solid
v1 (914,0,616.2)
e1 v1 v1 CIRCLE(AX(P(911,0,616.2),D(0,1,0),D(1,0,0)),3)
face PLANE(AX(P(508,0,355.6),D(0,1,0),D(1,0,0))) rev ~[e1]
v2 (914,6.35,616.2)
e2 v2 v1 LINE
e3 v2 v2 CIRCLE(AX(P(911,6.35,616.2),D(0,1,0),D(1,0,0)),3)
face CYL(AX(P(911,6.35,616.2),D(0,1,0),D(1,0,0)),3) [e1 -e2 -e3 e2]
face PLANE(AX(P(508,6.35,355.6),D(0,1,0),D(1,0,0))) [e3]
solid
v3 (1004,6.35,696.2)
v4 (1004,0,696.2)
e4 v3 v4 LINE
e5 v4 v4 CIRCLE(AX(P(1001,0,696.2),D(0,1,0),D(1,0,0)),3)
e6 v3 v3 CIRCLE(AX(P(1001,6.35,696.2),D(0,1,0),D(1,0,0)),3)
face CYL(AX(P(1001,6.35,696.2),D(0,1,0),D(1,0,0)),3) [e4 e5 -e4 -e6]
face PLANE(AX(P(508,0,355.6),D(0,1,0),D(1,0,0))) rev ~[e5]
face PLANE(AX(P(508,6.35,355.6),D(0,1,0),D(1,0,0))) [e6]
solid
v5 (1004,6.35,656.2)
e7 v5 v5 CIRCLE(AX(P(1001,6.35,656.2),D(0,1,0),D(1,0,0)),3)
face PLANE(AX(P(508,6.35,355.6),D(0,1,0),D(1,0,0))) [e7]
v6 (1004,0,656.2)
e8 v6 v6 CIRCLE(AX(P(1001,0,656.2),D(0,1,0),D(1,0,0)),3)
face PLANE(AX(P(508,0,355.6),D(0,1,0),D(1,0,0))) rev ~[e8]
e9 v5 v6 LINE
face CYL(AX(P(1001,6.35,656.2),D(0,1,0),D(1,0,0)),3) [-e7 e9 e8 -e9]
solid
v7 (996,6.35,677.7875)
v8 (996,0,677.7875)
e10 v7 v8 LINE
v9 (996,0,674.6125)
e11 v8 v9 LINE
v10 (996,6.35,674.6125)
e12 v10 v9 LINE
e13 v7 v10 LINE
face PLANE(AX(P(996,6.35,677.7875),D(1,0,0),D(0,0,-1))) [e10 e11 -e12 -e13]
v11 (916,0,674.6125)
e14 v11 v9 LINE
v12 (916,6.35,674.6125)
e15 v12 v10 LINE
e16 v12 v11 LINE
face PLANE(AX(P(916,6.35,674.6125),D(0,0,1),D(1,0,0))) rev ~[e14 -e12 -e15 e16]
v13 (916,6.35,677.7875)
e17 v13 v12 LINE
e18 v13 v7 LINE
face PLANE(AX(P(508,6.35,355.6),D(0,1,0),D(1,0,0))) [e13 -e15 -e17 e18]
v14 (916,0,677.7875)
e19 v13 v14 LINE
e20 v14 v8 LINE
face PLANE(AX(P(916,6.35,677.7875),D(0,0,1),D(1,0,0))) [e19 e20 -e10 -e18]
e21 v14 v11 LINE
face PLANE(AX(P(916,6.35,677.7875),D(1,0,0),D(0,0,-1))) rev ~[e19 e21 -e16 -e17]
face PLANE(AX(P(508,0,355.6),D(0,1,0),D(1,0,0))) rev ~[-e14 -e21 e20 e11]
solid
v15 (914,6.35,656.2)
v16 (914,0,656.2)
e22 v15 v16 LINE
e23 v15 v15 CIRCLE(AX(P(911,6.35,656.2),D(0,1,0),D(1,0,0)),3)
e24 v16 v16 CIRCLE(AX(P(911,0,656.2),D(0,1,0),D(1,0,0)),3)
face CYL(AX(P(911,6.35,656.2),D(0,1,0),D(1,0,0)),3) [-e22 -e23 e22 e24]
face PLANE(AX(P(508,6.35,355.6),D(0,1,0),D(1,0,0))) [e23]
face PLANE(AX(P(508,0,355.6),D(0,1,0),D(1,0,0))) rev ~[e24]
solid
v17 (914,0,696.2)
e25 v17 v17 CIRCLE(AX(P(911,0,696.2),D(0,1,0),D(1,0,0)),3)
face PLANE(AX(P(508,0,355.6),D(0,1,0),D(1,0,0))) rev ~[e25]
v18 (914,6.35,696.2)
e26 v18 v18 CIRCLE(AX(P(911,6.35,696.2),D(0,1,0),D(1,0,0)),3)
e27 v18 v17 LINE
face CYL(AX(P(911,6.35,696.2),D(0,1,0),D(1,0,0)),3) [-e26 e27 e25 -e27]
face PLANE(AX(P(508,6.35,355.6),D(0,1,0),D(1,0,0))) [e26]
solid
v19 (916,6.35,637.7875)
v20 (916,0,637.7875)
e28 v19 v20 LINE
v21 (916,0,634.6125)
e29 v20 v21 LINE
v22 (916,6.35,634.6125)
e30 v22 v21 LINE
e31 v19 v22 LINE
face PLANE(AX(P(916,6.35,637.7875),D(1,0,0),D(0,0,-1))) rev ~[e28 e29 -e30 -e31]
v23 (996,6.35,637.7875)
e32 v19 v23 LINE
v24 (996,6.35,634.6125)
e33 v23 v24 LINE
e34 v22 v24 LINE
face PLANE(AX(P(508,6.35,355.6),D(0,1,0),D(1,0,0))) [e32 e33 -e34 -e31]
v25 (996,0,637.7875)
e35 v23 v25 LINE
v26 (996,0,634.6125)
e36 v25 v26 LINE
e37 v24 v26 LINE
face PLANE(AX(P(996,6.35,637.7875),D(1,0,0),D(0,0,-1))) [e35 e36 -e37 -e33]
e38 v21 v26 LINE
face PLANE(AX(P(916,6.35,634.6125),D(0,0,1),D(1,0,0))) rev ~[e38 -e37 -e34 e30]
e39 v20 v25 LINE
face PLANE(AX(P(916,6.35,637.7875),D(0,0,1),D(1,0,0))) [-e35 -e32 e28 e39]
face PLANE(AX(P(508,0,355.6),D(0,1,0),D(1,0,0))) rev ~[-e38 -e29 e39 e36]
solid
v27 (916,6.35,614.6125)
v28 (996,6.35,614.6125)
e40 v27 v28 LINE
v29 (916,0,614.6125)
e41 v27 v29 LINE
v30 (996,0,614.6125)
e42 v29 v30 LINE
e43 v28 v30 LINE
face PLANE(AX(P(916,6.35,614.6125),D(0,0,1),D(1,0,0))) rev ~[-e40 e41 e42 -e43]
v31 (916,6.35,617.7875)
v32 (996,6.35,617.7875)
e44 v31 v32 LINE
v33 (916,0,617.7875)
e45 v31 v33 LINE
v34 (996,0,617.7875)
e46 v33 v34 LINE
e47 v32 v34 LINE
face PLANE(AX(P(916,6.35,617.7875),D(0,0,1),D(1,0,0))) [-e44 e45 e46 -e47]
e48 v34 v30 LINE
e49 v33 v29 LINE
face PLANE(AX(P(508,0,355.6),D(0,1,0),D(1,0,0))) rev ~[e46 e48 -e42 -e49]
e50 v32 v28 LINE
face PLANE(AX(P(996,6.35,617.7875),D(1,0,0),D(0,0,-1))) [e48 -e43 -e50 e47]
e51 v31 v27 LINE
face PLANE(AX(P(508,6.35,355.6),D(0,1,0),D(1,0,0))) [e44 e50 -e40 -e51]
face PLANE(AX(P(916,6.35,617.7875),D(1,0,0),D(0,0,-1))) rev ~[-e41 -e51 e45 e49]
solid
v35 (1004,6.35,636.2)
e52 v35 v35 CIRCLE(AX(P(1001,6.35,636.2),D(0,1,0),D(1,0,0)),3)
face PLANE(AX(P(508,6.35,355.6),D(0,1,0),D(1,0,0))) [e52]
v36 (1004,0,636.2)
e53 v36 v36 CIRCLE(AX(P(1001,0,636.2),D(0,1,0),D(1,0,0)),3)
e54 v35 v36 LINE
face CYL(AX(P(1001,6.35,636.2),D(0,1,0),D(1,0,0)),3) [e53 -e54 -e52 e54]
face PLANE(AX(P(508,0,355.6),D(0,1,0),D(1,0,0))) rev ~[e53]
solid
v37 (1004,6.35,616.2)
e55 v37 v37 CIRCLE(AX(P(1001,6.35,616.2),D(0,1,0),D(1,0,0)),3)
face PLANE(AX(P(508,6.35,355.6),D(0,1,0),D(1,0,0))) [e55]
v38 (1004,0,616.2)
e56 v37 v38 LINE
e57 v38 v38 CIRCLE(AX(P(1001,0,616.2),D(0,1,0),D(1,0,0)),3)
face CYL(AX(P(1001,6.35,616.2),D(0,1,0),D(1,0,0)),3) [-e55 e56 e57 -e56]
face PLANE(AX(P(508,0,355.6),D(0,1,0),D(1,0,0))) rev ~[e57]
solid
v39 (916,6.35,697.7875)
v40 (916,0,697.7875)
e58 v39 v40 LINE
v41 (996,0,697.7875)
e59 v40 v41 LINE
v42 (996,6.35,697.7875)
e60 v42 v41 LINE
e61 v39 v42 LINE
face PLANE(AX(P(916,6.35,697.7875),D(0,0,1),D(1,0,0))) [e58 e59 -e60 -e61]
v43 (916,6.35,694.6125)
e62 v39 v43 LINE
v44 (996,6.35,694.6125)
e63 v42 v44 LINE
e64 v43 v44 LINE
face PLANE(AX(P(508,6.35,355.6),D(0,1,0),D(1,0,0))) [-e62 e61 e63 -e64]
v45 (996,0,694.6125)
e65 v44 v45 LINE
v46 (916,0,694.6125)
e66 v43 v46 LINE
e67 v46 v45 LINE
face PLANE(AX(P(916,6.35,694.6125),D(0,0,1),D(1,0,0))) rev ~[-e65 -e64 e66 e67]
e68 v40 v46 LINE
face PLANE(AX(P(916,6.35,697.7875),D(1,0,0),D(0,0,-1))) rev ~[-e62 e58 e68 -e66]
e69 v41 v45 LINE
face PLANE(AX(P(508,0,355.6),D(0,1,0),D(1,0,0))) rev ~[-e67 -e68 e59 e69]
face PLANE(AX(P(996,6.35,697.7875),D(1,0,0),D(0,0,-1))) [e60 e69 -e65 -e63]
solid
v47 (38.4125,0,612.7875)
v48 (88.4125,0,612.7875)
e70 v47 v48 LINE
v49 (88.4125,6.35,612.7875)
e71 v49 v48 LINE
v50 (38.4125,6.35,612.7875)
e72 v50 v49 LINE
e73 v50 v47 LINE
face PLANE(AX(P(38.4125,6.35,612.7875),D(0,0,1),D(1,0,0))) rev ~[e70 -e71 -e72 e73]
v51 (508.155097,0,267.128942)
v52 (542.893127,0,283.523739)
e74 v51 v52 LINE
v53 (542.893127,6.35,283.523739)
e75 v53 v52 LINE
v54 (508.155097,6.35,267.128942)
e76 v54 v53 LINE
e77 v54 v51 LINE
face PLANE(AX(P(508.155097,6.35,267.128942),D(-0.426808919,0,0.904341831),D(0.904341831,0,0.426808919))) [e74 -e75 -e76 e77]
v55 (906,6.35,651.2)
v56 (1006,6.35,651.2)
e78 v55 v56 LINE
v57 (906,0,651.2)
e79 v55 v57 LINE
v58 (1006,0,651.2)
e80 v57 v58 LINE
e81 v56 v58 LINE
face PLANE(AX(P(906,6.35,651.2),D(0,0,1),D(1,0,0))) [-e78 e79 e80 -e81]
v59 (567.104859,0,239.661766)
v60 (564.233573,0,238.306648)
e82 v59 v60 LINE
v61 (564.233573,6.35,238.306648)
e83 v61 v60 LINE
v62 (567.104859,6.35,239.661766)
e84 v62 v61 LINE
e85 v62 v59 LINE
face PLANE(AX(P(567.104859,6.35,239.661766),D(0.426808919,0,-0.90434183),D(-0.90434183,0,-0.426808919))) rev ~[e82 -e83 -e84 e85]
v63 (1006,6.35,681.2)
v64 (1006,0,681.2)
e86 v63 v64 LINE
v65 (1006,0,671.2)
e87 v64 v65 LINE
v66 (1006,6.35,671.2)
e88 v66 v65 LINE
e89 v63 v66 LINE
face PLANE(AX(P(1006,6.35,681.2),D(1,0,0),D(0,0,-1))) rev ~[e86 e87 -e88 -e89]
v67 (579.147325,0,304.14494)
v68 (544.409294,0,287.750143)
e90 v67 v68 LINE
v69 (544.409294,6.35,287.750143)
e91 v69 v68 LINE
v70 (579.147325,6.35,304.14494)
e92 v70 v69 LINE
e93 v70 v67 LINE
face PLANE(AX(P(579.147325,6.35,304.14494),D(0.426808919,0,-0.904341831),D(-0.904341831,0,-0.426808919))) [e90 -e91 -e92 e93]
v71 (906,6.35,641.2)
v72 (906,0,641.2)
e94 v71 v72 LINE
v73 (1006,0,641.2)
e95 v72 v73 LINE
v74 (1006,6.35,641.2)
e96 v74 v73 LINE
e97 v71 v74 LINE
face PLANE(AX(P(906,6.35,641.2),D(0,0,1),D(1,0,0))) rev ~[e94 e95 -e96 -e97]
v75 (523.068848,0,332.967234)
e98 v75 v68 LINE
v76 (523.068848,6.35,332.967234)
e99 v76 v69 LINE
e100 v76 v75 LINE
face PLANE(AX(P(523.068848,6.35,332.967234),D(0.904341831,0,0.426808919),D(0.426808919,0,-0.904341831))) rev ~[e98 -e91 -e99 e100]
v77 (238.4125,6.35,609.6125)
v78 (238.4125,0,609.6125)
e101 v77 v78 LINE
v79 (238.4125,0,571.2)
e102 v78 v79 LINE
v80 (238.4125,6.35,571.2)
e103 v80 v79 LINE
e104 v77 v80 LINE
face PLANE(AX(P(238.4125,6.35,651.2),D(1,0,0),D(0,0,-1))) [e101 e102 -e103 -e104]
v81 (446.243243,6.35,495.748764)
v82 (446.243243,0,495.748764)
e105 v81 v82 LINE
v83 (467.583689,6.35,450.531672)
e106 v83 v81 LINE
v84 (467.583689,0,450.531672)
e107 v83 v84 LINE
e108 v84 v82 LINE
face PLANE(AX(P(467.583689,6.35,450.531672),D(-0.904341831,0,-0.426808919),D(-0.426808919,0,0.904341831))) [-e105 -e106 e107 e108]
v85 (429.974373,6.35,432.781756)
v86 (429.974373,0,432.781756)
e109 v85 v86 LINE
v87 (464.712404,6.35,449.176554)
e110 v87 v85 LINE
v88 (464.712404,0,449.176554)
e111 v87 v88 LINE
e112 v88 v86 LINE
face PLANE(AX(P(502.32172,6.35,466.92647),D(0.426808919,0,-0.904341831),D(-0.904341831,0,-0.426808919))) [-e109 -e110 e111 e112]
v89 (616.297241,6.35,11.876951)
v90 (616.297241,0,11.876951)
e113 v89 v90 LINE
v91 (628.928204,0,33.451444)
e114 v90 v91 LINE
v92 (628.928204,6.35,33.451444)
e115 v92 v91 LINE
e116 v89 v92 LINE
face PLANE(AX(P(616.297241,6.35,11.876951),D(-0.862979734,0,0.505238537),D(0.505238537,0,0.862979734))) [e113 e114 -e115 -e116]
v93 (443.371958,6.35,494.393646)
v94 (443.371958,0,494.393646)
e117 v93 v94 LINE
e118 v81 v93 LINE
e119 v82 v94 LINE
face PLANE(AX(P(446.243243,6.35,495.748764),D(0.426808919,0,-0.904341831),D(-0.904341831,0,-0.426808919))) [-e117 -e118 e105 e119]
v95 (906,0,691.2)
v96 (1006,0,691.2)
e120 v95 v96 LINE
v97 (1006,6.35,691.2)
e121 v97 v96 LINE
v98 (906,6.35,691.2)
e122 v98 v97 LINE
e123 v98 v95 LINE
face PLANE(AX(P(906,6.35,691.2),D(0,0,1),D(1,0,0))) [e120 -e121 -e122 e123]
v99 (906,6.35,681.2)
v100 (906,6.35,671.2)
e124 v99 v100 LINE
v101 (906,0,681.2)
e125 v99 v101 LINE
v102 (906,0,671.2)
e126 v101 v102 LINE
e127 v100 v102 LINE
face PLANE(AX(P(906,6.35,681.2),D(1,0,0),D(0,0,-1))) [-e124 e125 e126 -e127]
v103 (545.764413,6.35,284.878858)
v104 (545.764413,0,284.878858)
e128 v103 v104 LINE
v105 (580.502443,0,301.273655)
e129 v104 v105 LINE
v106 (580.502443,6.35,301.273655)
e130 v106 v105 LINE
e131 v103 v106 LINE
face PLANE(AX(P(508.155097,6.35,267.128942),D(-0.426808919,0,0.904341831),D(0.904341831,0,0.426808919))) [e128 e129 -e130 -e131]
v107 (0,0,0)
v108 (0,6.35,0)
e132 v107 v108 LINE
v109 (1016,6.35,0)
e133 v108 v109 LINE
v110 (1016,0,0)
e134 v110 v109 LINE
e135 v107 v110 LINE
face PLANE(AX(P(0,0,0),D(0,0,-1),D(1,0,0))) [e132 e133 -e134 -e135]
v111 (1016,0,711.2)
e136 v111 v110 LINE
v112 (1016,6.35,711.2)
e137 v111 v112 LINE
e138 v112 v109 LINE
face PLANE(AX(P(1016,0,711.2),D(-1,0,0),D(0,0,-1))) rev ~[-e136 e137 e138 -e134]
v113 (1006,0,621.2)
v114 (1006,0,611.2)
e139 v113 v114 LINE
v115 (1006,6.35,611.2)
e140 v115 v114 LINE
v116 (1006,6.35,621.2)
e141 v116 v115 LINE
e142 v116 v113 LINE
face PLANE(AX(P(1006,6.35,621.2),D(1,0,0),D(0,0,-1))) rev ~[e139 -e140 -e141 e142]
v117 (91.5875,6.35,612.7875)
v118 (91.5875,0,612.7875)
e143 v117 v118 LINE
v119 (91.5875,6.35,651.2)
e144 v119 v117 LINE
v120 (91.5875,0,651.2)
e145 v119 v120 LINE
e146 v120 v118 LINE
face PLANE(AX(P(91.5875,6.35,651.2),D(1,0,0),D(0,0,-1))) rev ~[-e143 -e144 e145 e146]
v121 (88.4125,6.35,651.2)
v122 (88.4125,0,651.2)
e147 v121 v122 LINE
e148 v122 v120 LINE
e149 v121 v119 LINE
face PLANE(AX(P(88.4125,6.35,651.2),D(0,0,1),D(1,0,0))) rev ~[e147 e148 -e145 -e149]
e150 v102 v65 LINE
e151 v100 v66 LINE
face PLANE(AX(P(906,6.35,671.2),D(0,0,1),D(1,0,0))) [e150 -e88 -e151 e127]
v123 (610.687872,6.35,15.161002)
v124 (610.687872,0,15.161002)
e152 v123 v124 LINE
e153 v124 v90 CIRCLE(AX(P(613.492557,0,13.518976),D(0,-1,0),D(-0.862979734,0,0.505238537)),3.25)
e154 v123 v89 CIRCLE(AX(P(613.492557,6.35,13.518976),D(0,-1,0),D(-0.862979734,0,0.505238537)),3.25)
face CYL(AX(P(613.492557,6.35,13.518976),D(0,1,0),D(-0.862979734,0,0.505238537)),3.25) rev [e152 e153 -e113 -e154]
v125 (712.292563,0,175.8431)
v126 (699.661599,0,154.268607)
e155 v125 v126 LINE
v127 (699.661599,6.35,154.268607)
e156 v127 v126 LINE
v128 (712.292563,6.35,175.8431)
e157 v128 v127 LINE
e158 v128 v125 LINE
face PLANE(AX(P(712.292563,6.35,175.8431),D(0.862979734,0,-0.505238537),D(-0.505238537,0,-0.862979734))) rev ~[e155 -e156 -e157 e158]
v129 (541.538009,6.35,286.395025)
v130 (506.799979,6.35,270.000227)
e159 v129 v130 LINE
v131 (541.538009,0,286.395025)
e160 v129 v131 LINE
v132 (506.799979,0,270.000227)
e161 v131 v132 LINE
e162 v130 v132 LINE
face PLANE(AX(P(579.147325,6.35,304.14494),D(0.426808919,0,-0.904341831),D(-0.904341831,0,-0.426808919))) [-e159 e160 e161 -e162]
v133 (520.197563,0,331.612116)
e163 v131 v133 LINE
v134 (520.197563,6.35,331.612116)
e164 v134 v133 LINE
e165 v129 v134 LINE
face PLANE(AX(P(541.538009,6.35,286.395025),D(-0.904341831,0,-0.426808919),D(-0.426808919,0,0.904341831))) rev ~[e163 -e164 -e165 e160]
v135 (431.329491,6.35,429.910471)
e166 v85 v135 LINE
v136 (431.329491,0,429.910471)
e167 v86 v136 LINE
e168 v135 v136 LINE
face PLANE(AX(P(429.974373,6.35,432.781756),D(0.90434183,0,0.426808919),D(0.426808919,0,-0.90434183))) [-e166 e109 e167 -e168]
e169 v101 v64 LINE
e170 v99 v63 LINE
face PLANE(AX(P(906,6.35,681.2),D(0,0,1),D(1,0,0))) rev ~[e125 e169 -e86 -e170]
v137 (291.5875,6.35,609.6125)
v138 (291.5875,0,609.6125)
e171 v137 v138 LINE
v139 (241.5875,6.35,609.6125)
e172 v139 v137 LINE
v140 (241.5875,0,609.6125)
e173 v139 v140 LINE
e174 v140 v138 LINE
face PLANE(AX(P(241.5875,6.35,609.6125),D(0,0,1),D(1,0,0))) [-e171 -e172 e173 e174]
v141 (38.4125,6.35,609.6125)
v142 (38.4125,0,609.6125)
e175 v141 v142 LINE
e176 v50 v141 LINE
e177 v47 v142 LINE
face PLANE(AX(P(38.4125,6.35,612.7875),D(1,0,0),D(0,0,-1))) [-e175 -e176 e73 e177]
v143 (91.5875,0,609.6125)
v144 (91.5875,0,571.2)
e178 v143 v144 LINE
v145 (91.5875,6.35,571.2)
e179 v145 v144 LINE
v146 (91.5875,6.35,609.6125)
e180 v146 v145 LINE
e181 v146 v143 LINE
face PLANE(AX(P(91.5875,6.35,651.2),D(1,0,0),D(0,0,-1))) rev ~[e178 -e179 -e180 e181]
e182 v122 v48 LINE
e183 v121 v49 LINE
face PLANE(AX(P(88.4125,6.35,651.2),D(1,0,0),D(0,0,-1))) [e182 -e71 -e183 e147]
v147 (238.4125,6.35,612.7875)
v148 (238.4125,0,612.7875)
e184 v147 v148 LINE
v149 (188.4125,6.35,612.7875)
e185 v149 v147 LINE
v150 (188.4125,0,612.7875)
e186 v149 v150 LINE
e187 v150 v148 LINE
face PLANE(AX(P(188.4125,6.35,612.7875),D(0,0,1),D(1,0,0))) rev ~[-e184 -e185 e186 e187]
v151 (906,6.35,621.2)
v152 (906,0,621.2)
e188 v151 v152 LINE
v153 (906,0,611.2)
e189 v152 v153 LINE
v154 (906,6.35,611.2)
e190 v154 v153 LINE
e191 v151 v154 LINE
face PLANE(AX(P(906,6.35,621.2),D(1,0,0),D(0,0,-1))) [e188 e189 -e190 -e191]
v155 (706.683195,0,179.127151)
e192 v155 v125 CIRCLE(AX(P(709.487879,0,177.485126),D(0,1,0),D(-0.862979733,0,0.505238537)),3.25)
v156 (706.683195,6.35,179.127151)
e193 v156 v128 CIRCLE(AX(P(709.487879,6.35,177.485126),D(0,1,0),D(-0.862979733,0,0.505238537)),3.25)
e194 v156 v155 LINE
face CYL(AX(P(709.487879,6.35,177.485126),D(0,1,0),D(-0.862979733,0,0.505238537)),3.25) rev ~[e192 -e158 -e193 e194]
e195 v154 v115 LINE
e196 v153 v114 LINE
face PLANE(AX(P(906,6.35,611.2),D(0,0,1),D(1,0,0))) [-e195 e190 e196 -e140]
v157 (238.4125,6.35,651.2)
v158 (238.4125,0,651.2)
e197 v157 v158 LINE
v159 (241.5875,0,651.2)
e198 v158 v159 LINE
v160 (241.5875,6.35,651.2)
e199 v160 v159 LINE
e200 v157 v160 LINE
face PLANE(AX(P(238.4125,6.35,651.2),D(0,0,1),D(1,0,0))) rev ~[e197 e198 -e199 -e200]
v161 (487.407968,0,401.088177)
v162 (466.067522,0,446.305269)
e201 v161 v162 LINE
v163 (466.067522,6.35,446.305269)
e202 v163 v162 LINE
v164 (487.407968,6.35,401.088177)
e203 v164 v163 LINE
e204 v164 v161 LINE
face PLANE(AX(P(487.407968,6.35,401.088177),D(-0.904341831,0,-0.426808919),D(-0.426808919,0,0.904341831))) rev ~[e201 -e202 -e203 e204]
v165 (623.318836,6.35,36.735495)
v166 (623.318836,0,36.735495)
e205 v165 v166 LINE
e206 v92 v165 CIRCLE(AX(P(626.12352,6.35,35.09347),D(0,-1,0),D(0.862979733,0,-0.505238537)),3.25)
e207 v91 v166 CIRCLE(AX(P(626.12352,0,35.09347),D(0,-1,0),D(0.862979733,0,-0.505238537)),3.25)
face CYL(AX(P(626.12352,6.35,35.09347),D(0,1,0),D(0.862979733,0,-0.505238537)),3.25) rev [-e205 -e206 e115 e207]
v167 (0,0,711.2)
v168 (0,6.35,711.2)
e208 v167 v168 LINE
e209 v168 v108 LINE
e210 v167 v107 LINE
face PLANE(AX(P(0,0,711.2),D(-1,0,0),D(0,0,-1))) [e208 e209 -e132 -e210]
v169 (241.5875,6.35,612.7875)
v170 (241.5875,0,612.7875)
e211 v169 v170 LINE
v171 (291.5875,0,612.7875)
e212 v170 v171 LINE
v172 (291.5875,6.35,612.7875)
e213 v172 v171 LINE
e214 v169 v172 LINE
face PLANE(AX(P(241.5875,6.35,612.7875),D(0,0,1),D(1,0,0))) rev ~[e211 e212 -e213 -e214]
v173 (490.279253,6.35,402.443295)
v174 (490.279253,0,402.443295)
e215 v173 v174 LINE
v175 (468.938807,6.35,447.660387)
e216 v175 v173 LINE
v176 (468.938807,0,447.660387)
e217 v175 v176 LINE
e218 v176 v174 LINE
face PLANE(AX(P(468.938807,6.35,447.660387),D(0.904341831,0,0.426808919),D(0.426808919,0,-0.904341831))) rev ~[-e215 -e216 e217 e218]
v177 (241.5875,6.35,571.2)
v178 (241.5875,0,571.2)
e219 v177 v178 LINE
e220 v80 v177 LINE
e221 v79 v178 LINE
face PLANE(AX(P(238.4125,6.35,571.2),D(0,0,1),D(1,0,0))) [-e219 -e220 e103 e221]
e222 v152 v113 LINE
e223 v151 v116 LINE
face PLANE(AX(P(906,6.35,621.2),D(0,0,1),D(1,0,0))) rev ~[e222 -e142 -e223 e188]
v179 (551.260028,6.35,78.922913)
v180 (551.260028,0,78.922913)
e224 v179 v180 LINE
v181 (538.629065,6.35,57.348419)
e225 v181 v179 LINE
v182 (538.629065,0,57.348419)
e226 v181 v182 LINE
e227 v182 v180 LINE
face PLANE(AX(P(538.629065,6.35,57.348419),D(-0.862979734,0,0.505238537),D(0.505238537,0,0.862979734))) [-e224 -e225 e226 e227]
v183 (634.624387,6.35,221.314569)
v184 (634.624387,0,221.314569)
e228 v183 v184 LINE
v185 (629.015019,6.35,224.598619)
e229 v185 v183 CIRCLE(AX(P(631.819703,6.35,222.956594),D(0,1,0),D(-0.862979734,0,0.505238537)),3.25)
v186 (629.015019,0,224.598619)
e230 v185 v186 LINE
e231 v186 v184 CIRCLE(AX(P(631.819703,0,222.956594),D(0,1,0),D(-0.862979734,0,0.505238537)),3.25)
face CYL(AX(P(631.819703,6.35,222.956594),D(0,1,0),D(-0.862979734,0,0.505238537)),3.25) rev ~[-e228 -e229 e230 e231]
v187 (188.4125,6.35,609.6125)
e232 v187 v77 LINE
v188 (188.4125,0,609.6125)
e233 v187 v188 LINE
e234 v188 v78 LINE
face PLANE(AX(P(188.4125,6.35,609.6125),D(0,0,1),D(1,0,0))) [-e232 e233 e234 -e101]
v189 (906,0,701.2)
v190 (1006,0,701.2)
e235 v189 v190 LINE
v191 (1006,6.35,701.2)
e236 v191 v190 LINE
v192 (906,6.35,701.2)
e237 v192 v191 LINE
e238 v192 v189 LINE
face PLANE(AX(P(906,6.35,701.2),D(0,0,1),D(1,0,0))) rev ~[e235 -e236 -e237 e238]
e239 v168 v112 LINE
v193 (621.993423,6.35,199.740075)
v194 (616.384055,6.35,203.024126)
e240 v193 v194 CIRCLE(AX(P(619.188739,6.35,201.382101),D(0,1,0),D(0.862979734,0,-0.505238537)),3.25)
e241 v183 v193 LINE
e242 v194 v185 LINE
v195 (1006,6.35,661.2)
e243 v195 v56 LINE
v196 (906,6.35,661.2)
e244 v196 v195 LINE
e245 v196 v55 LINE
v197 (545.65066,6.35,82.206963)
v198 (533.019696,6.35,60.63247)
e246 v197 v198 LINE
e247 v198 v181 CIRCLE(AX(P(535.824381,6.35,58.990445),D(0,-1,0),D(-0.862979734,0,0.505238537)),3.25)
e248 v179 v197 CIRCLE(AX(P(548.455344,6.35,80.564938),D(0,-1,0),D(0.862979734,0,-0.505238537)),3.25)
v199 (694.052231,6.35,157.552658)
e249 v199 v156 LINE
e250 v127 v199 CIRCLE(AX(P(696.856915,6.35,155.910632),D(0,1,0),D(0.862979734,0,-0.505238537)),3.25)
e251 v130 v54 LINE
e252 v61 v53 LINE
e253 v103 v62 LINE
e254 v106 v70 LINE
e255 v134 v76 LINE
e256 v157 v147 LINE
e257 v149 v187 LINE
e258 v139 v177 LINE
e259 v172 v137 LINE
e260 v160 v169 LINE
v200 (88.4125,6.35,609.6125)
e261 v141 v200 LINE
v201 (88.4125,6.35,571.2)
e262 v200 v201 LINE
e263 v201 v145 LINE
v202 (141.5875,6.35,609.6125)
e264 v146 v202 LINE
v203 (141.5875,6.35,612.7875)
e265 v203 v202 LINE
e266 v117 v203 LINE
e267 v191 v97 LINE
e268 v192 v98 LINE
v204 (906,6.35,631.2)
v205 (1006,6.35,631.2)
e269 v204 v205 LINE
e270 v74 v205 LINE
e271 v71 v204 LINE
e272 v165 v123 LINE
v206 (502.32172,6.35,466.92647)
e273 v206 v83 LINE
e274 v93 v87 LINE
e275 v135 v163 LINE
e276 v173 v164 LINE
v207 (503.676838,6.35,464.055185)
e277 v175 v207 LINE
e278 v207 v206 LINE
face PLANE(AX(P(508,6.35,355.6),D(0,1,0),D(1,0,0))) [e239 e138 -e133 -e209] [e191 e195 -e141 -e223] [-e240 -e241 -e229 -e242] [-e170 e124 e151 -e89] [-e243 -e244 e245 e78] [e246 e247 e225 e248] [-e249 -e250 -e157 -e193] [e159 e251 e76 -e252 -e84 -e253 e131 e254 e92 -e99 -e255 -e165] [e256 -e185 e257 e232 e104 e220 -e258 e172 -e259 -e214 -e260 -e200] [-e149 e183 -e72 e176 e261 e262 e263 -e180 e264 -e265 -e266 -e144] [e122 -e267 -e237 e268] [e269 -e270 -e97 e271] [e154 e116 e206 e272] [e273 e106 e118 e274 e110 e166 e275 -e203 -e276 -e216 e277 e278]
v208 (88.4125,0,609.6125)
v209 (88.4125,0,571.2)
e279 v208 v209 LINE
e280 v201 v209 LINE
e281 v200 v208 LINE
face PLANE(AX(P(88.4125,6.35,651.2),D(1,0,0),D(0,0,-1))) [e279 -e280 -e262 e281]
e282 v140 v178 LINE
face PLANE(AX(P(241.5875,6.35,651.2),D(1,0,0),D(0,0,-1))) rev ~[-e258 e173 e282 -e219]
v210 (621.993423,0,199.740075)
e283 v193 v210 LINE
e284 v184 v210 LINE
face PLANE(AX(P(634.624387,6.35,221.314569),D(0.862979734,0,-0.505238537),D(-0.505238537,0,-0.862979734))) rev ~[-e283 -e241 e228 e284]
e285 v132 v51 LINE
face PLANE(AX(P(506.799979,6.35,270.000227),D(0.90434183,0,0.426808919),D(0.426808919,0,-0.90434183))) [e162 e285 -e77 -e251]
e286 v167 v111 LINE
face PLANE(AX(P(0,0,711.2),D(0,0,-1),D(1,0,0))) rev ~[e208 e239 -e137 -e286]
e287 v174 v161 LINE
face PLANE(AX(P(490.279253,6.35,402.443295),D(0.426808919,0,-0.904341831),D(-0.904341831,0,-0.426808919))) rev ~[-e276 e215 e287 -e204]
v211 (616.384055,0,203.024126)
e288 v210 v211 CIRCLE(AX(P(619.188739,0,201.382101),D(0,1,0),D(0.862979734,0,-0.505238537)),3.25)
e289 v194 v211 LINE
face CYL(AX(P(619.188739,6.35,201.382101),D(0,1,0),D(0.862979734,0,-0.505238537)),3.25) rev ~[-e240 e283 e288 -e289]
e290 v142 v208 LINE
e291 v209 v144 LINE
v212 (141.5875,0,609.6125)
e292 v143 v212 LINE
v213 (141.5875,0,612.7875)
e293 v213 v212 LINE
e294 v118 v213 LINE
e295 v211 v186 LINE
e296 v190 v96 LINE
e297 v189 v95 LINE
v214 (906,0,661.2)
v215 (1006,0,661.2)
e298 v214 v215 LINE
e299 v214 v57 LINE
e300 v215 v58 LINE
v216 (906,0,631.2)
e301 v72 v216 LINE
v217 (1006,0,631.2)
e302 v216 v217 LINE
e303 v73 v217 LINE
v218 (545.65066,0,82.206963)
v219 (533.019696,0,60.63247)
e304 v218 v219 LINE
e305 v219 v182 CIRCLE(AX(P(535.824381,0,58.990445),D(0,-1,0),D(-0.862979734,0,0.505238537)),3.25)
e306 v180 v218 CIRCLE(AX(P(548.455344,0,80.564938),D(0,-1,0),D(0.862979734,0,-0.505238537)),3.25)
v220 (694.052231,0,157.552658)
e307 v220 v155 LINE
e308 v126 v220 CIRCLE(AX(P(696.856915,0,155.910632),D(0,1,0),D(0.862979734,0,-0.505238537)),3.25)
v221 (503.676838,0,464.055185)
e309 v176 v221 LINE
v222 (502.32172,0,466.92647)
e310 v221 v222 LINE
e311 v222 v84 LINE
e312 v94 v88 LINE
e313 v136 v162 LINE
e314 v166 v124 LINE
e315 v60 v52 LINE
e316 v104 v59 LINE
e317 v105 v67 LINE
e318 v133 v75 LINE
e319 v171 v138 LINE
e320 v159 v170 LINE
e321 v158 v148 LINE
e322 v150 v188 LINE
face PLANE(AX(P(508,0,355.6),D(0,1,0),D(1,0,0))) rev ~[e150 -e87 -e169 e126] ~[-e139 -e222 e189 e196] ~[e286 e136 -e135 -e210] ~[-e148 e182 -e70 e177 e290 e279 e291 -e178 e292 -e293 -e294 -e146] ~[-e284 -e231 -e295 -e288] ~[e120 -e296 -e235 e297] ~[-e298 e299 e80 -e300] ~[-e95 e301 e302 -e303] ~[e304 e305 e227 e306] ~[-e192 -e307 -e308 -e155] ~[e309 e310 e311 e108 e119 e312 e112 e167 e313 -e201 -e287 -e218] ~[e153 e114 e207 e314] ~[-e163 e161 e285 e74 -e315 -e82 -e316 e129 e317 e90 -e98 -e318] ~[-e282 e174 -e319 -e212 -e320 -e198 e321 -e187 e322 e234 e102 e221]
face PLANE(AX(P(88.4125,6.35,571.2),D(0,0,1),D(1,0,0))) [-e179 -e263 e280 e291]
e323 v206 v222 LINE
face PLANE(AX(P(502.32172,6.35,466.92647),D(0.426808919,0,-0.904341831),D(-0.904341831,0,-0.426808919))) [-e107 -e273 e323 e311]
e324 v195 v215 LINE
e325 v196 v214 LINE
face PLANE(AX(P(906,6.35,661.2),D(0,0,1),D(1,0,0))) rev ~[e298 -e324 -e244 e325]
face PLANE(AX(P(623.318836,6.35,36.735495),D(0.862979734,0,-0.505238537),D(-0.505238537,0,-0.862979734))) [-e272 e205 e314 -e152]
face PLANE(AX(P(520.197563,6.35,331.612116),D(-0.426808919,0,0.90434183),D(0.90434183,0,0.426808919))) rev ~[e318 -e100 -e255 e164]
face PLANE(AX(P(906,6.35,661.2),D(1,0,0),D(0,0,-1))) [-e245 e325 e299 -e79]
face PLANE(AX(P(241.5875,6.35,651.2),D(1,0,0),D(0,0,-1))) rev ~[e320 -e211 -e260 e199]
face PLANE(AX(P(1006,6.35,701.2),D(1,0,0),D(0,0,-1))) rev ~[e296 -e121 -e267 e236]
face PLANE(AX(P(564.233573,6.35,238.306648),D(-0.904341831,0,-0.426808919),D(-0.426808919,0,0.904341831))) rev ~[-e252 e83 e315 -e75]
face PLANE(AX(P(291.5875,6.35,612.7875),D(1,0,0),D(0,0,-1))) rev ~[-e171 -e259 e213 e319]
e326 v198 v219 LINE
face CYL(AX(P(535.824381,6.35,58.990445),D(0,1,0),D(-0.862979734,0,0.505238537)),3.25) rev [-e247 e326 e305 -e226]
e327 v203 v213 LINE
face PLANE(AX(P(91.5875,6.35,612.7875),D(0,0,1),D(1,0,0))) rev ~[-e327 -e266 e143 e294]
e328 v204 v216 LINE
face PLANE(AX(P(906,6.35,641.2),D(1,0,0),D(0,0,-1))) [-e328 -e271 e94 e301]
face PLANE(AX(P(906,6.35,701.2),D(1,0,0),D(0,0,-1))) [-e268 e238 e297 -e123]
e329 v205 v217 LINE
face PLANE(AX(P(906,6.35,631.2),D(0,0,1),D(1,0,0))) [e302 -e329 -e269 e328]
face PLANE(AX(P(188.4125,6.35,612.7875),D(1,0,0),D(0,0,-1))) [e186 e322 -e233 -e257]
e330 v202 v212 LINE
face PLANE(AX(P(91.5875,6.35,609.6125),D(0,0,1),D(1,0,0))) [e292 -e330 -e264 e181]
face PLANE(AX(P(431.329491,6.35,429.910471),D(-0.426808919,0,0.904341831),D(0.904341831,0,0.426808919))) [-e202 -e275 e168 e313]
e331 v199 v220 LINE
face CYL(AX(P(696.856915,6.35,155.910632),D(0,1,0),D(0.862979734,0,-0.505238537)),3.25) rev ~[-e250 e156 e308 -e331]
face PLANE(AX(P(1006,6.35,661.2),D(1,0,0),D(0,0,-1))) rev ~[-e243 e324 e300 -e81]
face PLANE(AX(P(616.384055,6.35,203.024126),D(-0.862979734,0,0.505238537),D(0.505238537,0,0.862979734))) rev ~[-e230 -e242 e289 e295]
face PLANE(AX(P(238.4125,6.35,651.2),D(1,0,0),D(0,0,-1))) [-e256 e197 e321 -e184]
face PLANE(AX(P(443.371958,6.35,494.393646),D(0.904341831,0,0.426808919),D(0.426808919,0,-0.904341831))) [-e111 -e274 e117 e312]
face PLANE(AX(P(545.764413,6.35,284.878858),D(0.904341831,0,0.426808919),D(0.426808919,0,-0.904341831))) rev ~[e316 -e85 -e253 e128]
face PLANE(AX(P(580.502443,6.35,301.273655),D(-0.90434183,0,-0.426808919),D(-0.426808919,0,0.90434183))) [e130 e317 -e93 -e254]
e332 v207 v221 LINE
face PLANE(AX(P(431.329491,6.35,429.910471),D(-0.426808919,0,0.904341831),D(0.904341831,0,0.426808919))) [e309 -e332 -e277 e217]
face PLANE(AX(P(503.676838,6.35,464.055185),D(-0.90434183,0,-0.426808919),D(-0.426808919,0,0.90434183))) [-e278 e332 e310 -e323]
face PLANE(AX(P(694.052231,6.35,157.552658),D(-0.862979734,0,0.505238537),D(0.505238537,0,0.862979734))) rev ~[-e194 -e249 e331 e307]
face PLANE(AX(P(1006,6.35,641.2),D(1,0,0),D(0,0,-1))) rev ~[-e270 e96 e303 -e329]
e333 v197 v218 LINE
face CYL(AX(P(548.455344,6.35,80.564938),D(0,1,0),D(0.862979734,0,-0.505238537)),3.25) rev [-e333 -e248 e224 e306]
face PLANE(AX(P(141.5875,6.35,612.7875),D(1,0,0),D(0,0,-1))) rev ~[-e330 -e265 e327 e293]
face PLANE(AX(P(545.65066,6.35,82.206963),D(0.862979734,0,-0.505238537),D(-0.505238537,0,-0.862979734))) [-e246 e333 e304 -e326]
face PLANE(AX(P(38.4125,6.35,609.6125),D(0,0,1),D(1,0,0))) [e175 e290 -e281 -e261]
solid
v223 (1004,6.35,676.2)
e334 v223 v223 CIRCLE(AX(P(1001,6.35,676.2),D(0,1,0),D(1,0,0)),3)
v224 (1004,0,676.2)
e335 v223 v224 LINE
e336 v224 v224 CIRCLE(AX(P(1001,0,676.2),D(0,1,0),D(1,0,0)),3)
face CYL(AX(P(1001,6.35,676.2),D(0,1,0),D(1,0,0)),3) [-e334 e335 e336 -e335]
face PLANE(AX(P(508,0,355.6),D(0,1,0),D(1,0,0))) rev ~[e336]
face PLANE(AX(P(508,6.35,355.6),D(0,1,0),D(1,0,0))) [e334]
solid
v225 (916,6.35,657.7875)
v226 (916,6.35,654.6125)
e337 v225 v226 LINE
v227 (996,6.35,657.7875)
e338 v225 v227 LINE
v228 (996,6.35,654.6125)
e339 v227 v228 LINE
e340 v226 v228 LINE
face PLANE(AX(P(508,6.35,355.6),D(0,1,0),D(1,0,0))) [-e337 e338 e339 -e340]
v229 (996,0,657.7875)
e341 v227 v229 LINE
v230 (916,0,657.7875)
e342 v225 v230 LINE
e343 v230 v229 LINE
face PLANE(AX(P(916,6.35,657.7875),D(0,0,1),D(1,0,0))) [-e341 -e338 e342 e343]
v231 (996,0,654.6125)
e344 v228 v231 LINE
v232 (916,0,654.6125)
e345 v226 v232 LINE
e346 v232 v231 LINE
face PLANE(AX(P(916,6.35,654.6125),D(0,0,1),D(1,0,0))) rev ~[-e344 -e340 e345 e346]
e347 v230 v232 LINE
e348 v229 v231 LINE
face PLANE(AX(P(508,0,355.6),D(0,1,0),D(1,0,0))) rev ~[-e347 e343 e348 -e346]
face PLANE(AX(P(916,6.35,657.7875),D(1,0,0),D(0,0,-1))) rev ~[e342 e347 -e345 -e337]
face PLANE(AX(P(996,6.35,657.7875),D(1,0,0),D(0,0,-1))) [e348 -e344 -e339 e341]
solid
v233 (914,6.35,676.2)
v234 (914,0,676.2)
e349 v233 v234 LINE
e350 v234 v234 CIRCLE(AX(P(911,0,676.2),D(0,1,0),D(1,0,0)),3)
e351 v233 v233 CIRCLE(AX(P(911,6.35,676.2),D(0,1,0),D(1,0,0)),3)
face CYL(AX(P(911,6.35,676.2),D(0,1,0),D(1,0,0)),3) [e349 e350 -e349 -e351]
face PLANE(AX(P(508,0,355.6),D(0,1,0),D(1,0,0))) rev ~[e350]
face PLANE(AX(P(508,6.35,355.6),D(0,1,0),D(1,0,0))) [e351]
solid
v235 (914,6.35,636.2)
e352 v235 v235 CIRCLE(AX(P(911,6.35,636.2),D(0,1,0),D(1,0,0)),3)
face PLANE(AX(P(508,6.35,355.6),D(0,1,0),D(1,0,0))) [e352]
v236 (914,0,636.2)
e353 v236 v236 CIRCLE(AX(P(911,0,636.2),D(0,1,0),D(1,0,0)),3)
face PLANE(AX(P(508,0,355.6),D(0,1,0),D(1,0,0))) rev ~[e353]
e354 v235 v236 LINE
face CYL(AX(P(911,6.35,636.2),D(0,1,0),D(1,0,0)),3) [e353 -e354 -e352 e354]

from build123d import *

# Parameters (mm, degrees)
SKETCH1_W           = 1016
SKETCH1_H           = 711.2
BOSS_EXTRUDE1_DEPTH = 6.35
SKETCH2_W           = 3.175
SKETCH2_H           = 80
CUT_EXTRUDE1_DEPTH  = 6.35
SKETCH4_W           = 50
SKETCH4_H           = 3.175
CUT_EXTRUDE2_DEPTH  = 10
SKETCH5_W           = 100
SKETCH5_H           = 10
SKETCH5_R           = 3
SKETCH5_W_2         = 80
SKETCH5_H_2         = 3.175
CUT_EXTRUDE3_DEPTH  = 10


with BuildPart() as part:
    # Sketch1 → Boss-Extrude1 (new body)
    with BuildSketch(Plane(origin=(0, 0, 0), x_dir=(1, 0, 0), z_dir=(0, 1, 0))):
        with Locations((508, -355.6)):
            Rectangle(SKETCH1_W, SKETCH1_H)
    extrude(amount=BOSS_EXTRUDE1_DEPTH)

    # Sketch2 → Cut-Extrude1 (cut)
    with BuildSketch(Plane(origin=(0, 6.35, 0), x_dir=(1, 0, 0), z_dir=(0, 1, 0))):
        Polygon((431.329491407, -429.910471079), (503.676837849, -464.055184621), (502.32171953, -466.926469933), (429.974373088, -432.781756391), align=None)
        with Locations((90, -611.2)):
            Rectangle(SKETCH2_W, SKETCH2_H)
        with Locations((240, -611.2)):
            Rectangle(SKETCH2_W, SKETCH2_H)
        Polygon((508.155096876, -267.128941585), (580.502443318, -301.273655127), (579.147324999, -304.144940439), (506.799978557, -270.000226897), align=None)
        with BuildLine():
            Line((538.629064713, -57.34841943), (551.260028142, -78.92291277))
            ThreePointArc((551.260028142, -78.92291277), (550.097369254, -83.369622149), (545.650659874, -82.206963261))
            Line((545.650659874, -82.206963261), (533.019696445, -60.632469921))
            ThreePointArc((533.019696445, -60.632469921), (534.182355333, -56.185760542), (538.629064713, -57.34841943))
        make_face()
        with BuildLine():
            Line((616.297240736, -11.876951086), (628.928204164, -33.451444426))
            ThreePointArc((628.928204164, -33.451444426), (627.765545276, -37.898153806), (623.318835896, -36.735494917))
            Line((623.318835896, -36.735494917), (610.687872467, -15.161001578))
            ThreePointArc((610.687872467, -15.161001578), (611.850531356, -10.714292198), (616.297240736, -11.876951086))
        make_face()
        with BuildLine():
            Line((712.292562795, -175.843100467), (699.661599366, -154.268607128))
            ThreePointArc((699.661599366, -154.268607128), (695.214889986, -153.105948239), (694.052231097, -157.552657619))
            Line((694.052231097, -157.552657619), (706.683194526, -179.127150959))
            ThreePointArc((706.683194526, -179.127150959), (711.129903906, -180.289809847), (712.292562795, -175.843100467))
        make_face()
        with BuildLine():
            Line((634.624386772, -221.314568811), (621.993423343, -199.740075471))
            ThreePointArc((621.993423343, -199.740075471), (617.546713963, -198.577416583), (616.384055075, -203.024125963))
            Line((616.384055075, -203.024125963), (629.015018504, -224.598619302))
            ThreePointArc((629.015018504, -224.598619302), (633.461727884, -225.761278191), (634.624386772, -221.314568811))
        make_face()
    extrude(amount=-CUT_EXTRUDE1_DEPTH, mode=Mode.SUBTRACT)

    # Sketch4 → Cut-Extrude2 (cut)
    with BuildSketch(Plane(origin=(0, 6.35, 0), x_dir=(1, 0, 0), z_dir=(0, 1, 0))):
        Polygon((467.583688965, -450.531672321), (446.243243002, -495.748763847), (443.37195769, -494.393645529), (464.712403653, -449.176554003), align=None)
        with Locations((63.4125, -611.2)):
            Rectangle(SKETCH4_W, SKETCH4_H)
        with Locations((116.5875, -611.2)):
            Rectangle(SKETCH4_W, SKETCH4_H)
        with Locations((213.4125, -611.2)):
            Rectangle(SKETCH4_W, SKETCH4_H)
        with Locations((266.5875, -611.2)):
            Rectangle(SKETCH4_W, SKETCH4_H)
        Polygon((487.407967936, -401.088177165), (466.067521972, -446.305268691), (468.938807284, -447.660387009), (490.279253247, -402.443295483), align=None)
        Polygon((541.538009122, -286.395024509), (520.197563159, -331.612116035), (523.06884847, -332.967234354), (544.409294434, -287.750142828), align=None)
        Polygon((564.233573404, -238.306647671), (542.893127441, -283.523739197), (545.764412753, -284.878857516), (567.104858716, -239.66176599), align=None)
    extrude(amount=-CUT_EXTRUDE2_DEPTH, mode=Mode.SUBTRACT)

    # Sketch5 → Cut-Extrude3 (cut)
    with BuildSketch(Plane(origin=(0, 6.35, 0), x_dir=(1, 0, 0), z_dir=(0, 1, 0))):
        with Locations((956, -696.2)):
            Rectangle(SKETCH5_W, SKETCH5_H)
        with Locations((911, -696.2)):
            Circle(SKETCH5_R, mode=Mode.SUBTRACT)
        with Locations((1001, -696.2)):
            Circle(SKETCH5_R, mode=Mode.SUBTRACT)
        with Locations((956, -696.2)):
            Rectangle(SKETCH5_W_2, SKETCH5_H_2, mode=Mode.SUBTRACT)
        with Locations((956, -676.2)):
            Rectangle(SKETCH5_W, SKETCH5_H)
        with Locations((911, -676.2)):
            Circle(SKETCH5_R, mode=Mode.SUBTRACT)
        with Locations((1001, -676.2)):
            Circle(SKETCH5_R, mode=Mode.SUBTRACT)
        with Locations((956, -676.2)):
            Rectangle(SKETCH5_W_2, SKETCH5_H_2, mode=Mode.SUBTRACT)
        with Locations((956, -656.2)):
            Rectangle(SKETCH5_W, SKETCH5_H)
        with Locations((911, -656.2)):
            Circle(SKETCH5_R, mode=Mode.SUBTRACT)
        with Locations((1001, -656.2)):
            Circle(SKETCH5_R, mode=Mode.SUBTRACT)
        with Locations((956, -656.2)):
            Rectangle(SKETCH5_W_2, SKETCH5_H_2, mode=Mode.SUBTRACT)
        with Locations((956, -616.2)):
            Rectangle(SKETCH5_W, SKETCH5_H)
        with Locations((911, -616.2)):
            Circle(SKETCH5_R, mode=Mode.SUBTRACT)
        with Locations((1001, -616.2)):
            Circle(SKETCH5_R, mode=Mode.SUBTRACT)
        with Locations((956, -616.2)):
            Rectangle(SKETCH5_W_2, SKETCH5_H_2, mode=Mode.SUBTRACT)
        with Locations((956, -636.2)):
            Rectangle(SKETCH5_W, SKETCH5_H)
        with Locations((911, -636.2)):
            Circle(SKETCH5_R, mode=Mode.SUBTRACT)
        with Locations((1001, -636.2)):
            Circle(SKETCH5_R, mode=Mode.SUBTRACT)
        with Locations((956, -636.2)):
            Rectangle(SKETCH5_W_2, SKETCH5_H_2, mode=Mode.SUBTRACT)
    extrude(amount=-CUT_EXTRUDE3_DEPTH, mode=Mode.SUBTRACT)


solid = part.part
